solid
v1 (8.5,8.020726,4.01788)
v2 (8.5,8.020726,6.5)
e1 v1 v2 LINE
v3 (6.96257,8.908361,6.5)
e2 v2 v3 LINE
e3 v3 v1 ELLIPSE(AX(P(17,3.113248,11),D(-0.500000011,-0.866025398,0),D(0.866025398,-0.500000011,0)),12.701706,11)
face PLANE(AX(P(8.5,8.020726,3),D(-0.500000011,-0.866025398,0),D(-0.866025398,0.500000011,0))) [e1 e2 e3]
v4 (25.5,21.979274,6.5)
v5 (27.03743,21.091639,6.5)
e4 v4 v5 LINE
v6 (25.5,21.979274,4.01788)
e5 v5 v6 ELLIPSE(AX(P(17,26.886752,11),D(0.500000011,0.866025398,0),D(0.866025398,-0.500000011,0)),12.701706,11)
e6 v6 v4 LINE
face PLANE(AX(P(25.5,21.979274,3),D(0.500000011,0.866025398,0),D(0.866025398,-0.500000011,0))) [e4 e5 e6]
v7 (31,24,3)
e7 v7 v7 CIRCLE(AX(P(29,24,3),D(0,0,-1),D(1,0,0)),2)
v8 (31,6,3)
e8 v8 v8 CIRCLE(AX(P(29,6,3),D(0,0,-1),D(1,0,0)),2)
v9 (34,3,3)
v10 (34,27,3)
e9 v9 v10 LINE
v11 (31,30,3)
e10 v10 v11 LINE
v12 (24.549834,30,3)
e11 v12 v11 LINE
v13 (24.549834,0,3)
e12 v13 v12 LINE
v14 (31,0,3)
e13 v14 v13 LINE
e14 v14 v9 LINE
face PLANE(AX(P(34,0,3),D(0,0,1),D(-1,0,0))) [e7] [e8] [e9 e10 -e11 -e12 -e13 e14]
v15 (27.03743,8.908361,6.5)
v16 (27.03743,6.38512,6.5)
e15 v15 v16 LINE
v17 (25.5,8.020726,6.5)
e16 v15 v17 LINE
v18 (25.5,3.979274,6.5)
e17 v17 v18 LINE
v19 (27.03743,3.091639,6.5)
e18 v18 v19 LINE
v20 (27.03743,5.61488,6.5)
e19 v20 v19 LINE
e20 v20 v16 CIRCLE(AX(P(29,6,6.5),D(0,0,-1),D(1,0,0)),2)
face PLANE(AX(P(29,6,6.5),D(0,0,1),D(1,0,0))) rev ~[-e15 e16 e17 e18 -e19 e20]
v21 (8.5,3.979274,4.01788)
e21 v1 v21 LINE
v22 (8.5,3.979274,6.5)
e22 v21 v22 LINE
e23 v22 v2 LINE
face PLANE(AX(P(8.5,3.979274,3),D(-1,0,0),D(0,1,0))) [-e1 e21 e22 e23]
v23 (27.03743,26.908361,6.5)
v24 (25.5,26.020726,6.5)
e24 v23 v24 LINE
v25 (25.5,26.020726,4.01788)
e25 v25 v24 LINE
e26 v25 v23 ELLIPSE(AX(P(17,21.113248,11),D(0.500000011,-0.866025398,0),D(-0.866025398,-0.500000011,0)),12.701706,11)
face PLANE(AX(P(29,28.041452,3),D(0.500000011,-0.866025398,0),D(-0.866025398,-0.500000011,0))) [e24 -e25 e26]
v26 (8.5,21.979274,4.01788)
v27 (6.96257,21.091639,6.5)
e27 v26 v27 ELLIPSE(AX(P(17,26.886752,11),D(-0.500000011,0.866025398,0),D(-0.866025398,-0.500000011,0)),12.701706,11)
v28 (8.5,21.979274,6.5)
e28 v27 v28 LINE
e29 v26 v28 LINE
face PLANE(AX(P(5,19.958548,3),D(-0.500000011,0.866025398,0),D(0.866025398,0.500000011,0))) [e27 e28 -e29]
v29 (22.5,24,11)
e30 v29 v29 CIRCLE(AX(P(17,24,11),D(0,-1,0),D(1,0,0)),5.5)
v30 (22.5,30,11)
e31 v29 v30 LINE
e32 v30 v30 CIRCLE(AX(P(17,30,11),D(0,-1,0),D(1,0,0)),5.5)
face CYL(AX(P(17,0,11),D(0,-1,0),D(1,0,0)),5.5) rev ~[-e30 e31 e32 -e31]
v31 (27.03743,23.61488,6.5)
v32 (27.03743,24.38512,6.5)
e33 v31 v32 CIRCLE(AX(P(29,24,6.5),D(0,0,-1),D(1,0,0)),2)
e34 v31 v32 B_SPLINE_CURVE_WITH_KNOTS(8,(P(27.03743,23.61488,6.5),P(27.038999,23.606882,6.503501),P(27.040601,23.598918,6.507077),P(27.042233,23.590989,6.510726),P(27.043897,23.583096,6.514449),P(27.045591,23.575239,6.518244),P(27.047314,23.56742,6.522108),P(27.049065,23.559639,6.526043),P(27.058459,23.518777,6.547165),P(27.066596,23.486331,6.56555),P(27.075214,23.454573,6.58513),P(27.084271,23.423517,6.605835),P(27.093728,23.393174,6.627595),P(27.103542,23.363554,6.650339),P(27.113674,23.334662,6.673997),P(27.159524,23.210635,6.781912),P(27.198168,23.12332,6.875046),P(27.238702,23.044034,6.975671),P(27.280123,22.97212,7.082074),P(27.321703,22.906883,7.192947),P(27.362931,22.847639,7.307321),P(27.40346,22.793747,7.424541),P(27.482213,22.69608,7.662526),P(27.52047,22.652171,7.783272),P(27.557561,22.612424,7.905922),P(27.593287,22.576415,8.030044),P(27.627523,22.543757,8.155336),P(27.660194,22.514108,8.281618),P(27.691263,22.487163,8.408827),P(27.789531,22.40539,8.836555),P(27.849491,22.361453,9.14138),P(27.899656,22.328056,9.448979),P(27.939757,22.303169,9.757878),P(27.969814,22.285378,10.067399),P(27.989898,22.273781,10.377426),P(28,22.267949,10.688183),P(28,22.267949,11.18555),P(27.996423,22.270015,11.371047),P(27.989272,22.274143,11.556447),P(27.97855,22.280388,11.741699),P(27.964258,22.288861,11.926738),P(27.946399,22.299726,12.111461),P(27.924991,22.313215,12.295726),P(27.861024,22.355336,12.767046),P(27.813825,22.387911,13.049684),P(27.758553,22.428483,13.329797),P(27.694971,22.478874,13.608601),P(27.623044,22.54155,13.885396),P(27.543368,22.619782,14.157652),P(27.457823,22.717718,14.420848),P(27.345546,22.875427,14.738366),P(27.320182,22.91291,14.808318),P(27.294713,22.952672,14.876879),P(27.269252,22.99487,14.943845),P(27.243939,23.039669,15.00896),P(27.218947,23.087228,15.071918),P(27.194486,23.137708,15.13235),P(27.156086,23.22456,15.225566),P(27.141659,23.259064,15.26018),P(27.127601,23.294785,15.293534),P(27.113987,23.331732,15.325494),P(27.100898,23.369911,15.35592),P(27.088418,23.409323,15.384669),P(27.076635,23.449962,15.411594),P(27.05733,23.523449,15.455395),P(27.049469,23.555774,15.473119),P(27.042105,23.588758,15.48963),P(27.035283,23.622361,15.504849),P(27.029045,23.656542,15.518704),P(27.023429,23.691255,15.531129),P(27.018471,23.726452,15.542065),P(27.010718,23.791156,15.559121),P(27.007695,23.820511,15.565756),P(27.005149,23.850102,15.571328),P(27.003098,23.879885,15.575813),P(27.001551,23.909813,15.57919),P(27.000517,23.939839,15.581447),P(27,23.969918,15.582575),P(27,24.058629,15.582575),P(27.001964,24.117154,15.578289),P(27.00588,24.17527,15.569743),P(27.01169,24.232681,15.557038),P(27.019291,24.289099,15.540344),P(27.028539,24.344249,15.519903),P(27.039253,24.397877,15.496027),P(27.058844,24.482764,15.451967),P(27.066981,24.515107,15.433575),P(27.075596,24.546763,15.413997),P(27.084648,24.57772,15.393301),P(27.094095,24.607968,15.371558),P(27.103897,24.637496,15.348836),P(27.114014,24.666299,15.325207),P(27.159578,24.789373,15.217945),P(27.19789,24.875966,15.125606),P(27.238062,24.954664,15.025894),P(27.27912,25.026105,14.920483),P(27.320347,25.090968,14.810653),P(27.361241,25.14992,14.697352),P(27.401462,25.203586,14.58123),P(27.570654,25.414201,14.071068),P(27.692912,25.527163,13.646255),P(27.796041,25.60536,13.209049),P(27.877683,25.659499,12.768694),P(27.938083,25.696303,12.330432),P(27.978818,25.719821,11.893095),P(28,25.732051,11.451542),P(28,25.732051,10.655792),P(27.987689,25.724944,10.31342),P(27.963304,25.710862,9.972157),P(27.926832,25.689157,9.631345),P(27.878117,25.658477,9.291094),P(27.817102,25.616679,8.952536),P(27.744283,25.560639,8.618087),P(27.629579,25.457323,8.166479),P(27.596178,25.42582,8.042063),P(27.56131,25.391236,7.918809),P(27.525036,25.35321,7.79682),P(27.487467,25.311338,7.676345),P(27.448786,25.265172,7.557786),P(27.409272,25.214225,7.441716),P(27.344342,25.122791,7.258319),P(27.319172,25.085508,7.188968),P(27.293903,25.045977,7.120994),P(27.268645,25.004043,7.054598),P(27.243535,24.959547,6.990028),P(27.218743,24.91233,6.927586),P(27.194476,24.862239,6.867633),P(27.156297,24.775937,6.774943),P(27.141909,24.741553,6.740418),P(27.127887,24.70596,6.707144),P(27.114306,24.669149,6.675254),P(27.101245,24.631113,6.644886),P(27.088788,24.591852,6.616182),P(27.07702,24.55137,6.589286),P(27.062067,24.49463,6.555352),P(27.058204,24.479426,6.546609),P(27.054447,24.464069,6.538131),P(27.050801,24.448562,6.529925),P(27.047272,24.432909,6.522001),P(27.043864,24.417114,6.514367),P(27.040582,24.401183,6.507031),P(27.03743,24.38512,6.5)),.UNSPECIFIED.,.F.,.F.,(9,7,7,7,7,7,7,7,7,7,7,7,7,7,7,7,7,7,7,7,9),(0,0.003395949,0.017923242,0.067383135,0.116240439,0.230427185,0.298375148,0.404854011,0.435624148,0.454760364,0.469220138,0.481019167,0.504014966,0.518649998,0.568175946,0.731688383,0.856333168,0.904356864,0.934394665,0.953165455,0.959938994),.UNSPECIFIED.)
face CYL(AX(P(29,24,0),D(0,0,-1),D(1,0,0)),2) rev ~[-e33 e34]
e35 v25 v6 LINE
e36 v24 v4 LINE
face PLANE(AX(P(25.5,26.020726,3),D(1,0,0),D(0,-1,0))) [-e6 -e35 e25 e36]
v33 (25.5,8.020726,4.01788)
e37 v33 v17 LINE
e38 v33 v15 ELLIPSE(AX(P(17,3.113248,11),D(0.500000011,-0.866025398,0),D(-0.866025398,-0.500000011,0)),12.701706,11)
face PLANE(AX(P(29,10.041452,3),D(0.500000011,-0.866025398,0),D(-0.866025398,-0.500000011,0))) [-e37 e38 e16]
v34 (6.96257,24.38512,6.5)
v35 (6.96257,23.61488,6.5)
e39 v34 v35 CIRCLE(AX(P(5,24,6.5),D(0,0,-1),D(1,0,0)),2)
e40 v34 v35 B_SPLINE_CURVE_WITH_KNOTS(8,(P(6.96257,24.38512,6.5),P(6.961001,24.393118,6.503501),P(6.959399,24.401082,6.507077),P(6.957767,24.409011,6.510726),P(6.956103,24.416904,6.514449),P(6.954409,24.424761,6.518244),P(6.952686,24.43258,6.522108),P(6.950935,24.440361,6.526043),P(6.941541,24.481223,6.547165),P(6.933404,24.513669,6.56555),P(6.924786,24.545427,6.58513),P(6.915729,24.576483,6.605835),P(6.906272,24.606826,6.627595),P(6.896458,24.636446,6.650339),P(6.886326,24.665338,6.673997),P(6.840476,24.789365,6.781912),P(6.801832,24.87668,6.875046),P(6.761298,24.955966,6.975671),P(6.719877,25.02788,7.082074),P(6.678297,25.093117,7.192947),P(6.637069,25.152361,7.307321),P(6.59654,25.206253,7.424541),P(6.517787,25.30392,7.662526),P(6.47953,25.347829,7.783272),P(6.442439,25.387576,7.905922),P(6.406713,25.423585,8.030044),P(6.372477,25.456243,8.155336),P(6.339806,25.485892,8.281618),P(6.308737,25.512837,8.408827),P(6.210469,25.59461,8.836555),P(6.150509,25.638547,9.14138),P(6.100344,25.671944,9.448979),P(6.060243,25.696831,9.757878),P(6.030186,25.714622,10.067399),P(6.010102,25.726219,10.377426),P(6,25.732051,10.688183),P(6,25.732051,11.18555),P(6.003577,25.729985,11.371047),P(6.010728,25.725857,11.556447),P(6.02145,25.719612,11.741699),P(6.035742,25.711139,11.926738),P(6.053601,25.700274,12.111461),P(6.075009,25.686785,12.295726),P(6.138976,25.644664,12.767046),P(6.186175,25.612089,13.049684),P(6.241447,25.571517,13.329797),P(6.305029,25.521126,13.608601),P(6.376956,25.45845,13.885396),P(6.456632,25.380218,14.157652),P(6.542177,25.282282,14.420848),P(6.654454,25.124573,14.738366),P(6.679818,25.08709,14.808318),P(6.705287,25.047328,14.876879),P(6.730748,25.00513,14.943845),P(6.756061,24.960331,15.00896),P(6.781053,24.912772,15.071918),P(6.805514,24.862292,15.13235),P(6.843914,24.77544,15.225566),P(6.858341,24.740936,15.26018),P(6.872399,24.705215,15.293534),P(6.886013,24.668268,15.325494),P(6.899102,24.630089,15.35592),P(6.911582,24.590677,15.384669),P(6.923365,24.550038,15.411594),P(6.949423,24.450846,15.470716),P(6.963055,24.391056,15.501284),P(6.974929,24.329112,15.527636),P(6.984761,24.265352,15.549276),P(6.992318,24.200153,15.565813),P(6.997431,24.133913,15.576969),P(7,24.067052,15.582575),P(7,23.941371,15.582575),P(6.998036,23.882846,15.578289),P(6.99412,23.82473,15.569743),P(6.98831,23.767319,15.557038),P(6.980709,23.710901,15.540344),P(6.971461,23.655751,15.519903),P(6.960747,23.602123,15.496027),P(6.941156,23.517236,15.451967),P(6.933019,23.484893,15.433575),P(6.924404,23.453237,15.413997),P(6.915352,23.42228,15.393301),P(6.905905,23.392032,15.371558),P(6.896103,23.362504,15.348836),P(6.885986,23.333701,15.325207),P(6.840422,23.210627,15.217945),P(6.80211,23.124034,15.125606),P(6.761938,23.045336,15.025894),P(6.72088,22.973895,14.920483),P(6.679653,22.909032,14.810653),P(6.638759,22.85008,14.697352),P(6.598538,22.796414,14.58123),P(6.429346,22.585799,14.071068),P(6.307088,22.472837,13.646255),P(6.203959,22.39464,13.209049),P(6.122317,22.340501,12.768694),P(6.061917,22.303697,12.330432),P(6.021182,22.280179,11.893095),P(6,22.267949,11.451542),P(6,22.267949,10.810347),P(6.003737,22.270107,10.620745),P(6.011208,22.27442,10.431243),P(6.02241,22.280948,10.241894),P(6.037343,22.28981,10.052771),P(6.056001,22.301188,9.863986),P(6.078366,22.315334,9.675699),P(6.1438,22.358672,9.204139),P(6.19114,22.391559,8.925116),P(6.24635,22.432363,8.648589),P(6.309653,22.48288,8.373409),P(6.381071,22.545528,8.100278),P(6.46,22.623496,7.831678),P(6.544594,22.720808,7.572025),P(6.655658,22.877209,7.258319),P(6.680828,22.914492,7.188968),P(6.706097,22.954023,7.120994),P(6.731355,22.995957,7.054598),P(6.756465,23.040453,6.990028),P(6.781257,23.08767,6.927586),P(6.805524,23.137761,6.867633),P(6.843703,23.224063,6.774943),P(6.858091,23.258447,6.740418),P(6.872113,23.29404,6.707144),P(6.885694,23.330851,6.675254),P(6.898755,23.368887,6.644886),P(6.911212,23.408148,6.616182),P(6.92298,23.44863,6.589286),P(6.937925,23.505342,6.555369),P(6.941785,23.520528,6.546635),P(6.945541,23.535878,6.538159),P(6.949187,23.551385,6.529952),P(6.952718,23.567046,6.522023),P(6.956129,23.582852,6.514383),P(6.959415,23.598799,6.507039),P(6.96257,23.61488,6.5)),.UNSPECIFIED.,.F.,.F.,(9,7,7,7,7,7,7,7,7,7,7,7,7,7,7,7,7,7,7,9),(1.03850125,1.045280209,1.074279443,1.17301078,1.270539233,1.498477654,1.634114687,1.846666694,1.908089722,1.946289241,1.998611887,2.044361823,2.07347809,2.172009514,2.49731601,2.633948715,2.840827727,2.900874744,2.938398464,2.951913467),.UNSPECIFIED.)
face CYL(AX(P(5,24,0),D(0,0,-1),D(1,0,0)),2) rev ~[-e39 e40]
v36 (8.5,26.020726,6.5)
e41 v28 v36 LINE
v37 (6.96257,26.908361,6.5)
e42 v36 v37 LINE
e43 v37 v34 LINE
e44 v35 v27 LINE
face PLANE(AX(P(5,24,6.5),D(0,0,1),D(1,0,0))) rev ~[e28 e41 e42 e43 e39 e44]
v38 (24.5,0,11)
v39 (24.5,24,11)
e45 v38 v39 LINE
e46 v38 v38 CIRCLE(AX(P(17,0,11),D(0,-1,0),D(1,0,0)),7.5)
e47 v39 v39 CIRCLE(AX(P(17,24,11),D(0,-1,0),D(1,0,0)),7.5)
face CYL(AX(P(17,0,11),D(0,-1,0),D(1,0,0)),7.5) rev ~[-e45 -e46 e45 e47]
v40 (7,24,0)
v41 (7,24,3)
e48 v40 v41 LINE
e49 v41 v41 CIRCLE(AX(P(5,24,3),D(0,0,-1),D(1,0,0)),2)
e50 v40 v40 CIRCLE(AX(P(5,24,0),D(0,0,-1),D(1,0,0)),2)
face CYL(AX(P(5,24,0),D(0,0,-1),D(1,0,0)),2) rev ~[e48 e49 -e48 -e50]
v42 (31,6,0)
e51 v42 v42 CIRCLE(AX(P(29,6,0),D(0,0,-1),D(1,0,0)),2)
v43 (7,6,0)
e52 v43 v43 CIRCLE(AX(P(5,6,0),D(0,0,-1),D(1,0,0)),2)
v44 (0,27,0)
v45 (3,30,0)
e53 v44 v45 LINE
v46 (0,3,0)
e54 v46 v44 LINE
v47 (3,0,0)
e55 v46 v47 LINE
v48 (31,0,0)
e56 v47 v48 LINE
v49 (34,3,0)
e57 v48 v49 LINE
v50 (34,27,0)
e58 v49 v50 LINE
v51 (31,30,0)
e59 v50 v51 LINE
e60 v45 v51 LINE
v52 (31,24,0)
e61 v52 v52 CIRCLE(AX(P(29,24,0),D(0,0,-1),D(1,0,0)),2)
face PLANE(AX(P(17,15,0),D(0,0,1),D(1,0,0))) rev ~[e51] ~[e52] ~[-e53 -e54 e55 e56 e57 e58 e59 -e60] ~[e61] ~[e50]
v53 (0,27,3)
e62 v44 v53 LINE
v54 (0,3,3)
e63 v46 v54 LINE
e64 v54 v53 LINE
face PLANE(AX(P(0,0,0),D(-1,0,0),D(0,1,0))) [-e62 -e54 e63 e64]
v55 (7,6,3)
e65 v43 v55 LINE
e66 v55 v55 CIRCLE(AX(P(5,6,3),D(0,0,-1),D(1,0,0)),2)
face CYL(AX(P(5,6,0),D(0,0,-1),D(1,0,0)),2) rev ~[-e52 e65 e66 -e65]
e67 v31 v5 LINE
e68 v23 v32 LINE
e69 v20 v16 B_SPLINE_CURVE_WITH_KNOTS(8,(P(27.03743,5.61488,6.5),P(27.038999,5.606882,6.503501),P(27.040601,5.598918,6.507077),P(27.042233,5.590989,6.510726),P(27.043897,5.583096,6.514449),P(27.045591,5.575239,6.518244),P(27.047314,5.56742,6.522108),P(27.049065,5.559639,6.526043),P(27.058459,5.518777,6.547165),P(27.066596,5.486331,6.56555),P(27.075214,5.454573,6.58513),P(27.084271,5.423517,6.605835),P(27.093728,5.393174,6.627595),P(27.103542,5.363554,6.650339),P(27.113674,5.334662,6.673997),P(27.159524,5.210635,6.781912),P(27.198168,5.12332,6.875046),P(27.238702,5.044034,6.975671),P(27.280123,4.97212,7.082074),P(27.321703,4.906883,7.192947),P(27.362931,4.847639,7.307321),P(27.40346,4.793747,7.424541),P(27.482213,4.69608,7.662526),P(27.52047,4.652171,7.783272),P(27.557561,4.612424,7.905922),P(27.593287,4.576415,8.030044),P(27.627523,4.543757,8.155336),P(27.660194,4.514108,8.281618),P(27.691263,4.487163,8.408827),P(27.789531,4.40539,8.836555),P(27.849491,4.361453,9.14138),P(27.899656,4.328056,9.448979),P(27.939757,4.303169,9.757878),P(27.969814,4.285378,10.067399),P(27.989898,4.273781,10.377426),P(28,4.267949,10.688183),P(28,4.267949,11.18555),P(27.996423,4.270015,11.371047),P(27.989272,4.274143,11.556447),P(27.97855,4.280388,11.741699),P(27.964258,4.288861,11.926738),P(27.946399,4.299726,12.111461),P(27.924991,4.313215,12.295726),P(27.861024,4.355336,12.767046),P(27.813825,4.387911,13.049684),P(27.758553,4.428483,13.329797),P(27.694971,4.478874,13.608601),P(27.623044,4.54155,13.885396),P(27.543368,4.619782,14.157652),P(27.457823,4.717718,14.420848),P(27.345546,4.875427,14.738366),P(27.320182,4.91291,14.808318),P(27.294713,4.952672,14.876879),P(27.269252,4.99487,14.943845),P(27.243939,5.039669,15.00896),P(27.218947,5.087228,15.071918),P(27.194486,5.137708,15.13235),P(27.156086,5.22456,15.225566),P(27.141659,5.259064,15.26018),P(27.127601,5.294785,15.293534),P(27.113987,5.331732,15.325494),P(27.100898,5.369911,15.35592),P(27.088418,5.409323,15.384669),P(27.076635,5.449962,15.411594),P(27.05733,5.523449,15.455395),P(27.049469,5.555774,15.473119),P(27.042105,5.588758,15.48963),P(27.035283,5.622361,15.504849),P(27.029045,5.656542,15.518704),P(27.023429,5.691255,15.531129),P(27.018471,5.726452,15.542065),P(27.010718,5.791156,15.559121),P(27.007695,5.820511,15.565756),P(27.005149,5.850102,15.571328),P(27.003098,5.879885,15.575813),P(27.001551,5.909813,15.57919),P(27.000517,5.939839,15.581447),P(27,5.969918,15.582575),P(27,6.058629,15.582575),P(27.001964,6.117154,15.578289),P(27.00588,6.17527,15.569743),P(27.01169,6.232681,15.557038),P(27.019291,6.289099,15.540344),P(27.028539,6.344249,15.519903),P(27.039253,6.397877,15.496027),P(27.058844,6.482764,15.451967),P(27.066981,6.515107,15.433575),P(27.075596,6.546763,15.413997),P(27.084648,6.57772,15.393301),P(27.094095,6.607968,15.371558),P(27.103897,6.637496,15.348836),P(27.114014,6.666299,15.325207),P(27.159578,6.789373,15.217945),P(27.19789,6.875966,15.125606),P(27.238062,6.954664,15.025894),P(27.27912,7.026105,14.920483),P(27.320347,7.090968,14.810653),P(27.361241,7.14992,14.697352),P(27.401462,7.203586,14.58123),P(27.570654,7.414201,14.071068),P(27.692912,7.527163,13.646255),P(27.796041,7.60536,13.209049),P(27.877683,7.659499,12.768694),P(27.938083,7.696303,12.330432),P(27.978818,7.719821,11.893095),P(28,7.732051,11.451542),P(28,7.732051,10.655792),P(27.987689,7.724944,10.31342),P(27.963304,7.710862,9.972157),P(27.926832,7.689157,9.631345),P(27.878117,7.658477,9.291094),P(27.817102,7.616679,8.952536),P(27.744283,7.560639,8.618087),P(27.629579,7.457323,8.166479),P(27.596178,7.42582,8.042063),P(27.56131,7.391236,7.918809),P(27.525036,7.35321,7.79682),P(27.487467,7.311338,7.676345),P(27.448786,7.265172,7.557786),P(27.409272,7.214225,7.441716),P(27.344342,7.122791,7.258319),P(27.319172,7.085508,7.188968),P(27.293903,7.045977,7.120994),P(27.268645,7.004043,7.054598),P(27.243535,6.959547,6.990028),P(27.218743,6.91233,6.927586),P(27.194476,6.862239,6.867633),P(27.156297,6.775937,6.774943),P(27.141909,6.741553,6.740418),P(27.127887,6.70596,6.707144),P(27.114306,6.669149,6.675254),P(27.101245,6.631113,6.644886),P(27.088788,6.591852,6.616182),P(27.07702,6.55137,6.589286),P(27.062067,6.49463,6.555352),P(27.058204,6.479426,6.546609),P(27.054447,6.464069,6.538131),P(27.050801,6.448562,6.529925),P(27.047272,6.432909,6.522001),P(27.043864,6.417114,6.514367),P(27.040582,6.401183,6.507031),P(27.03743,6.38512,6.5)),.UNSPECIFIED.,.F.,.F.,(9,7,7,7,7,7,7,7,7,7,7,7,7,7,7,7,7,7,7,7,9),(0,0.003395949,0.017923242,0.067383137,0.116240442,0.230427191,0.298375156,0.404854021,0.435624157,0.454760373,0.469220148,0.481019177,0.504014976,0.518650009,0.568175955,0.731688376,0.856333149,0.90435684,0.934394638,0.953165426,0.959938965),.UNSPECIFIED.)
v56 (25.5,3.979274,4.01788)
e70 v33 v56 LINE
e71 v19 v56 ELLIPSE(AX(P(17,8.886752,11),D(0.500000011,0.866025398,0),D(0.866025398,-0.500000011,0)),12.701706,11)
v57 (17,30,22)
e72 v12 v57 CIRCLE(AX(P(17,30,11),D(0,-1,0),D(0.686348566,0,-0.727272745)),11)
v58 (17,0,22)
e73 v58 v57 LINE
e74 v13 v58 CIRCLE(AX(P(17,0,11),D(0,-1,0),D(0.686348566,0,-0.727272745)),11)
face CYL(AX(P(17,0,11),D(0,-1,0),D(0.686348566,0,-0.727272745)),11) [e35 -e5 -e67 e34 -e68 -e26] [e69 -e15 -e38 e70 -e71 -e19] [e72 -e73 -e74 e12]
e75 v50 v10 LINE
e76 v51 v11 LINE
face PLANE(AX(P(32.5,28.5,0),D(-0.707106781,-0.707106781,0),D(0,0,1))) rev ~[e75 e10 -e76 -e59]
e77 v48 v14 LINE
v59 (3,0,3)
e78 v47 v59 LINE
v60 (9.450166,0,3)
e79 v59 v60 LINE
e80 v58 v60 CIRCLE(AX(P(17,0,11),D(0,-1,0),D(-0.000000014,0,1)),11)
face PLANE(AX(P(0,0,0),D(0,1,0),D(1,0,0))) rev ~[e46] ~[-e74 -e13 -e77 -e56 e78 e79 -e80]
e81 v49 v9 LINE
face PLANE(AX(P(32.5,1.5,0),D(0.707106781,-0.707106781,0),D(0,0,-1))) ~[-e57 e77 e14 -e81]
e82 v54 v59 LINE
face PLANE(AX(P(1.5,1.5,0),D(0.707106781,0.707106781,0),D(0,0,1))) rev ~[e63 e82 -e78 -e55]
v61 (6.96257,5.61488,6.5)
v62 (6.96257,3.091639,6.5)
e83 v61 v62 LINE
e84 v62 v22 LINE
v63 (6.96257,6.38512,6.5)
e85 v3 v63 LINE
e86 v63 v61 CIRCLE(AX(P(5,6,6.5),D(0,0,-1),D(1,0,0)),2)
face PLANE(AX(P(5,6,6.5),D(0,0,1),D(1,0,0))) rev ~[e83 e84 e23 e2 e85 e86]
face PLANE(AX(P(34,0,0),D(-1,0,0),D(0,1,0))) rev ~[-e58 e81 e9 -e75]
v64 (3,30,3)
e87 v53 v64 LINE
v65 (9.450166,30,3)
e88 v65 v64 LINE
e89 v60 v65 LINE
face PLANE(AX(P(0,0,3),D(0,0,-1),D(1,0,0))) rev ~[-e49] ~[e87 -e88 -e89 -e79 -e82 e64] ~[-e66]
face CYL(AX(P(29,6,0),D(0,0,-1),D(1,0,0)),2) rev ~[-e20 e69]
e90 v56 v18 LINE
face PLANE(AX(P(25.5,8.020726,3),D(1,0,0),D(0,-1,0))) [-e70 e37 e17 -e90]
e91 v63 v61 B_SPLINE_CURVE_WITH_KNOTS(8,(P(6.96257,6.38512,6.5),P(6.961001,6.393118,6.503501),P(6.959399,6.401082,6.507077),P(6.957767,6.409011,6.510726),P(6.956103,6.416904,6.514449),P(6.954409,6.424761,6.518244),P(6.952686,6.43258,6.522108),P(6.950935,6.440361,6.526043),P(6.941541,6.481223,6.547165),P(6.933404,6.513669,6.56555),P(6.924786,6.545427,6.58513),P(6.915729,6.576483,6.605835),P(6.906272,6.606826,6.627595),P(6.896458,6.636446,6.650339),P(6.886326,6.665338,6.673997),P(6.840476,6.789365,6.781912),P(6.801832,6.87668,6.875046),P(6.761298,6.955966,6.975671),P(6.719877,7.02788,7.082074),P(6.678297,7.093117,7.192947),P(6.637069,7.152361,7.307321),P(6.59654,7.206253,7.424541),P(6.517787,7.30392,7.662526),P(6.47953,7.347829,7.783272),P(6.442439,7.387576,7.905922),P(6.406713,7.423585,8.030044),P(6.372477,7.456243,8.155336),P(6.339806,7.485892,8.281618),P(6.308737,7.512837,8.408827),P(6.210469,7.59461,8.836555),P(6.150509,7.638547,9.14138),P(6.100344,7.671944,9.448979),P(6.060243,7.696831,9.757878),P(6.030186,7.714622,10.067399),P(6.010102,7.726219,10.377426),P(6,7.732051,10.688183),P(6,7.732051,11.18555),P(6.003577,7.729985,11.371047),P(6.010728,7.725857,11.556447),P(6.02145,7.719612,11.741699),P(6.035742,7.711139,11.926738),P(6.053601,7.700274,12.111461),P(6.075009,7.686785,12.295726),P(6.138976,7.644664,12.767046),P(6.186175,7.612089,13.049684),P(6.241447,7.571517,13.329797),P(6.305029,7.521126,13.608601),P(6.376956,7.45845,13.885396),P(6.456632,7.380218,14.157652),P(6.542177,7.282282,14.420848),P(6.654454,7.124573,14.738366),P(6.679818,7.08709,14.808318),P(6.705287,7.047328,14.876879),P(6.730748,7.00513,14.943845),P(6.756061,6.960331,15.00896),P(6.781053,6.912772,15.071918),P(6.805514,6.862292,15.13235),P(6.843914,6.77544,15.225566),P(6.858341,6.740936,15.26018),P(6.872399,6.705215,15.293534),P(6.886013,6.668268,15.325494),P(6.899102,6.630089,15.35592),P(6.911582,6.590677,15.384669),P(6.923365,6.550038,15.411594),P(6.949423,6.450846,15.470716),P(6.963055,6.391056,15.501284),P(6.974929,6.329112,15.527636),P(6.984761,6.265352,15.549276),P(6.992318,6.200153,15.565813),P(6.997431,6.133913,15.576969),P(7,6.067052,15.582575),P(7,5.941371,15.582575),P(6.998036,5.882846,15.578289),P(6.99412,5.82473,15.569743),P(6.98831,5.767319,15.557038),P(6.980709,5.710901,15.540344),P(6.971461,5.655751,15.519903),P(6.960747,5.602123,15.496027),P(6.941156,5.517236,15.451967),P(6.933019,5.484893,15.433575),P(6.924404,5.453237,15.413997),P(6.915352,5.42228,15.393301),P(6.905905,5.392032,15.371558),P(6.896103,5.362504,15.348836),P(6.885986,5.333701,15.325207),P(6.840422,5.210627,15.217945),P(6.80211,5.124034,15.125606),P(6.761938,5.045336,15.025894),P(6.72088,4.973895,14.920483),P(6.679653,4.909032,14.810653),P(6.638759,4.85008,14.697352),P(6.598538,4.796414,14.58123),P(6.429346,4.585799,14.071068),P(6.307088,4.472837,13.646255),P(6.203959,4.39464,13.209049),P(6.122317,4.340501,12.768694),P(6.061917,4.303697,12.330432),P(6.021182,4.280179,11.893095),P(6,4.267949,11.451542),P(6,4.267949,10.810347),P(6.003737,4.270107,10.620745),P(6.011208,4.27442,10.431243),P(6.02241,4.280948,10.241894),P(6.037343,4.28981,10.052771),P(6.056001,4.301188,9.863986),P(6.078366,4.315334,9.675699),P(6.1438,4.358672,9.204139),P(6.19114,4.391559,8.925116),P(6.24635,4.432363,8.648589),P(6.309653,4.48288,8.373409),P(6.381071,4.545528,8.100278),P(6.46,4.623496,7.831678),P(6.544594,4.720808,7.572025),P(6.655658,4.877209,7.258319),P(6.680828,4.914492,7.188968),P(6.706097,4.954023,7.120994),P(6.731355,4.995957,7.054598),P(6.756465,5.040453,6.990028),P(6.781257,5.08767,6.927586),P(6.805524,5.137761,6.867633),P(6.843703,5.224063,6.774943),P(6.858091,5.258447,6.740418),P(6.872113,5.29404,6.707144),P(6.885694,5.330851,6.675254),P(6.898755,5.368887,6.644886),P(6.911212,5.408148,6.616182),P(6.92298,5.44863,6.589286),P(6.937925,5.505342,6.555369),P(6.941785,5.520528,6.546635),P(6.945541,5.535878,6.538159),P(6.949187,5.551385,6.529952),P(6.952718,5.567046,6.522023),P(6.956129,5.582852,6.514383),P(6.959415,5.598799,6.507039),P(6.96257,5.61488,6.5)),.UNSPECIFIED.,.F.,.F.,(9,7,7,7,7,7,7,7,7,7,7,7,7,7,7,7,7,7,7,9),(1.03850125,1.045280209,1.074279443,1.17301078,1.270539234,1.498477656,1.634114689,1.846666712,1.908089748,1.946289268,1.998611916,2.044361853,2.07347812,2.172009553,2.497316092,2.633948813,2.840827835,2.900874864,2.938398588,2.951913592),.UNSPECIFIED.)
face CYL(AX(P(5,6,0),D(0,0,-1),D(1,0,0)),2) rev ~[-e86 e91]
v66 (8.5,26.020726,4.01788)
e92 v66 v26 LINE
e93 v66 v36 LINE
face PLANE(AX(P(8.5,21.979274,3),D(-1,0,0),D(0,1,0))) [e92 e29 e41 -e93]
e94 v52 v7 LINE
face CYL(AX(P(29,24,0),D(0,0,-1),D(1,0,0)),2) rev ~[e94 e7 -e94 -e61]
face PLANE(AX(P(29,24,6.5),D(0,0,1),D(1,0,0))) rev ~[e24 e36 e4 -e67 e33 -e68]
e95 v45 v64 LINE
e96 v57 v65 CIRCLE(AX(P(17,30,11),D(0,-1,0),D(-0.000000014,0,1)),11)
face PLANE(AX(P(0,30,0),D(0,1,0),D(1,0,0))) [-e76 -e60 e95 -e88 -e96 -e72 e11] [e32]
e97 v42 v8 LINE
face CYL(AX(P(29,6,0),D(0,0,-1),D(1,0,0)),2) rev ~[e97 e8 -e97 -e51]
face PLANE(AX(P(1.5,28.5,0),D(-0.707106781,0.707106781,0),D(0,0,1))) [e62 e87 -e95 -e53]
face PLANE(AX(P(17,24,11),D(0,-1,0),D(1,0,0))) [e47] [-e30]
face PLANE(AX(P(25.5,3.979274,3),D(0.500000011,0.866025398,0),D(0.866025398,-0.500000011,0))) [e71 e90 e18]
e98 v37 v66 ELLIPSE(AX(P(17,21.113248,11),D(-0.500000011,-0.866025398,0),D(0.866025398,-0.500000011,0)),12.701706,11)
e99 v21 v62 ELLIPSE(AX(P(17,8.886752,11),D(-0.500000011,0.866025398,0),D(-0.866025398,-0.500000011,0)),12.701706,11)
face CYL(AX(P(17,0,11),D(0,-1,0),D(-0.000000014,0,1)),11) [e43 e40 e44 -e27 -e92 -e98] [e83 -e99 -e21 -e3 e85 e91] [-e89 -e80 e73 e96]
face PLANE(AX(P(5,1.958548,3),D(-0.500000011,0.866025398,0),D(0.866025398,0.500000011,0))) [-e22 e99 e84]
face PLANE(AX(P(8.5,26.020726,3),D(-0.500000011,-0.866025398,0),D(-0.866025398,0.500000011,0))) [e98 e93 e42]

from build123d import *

# Parameters (mm, degrees)
SKETCH_W        = 34
SKETCH_H        = 30
PAD_DEPTH       = 22
SKETCH001_R     = 5.5
POCKET_DEPTH    = 30.001
SKETCH002_R     = 2
POCKET001_DEPTH = 22.001
CHAMFER_SIZE    = 3
SKETCH003_R     = 7.5
POCKET002_DEPTH = 24
POCKET003_DEPTH = 3.5


with BuildPart() as part:
    # Sketch → Pad (new body)
    with BuildSketch(Plane.XY):
        with Locations((17, 15)):
            Rectangle(SKETCH_W, SKETCH_H)
    extrude(amount=PAD_DEPTH)

    # Sketch001 (on Face1 of Pad) → Pocket (cut, through all)
    with BuildSketch(Plane.XZ):
        with Locations((17, 11)):
            Circle(SKETCH001_R)
        with BuildLine():
            ThreePointArc((17, 22), (6.777476, 15.062019), (9.450166, 3))
            Line((0, 3), (9.450166, 3))
            Line((0, 22), (0, 3))
            Line((17, 22), (0, 22))
        make_face()
        with BuildLine():
            ThreePointArc((24.549834, 3), (27.222524, 15.062019), (17, 22))
            Line((17, 22), (34, 22))
            Line((34, 22), (34, 3))
            Line((34, 3), (24.549834, 3))
        make_face()
    extrude(amount=-POCKET_DEPTH, mode=Mode.SUBTRACT)

    # Sketch002 (on Face2 of Pocket) → Pocket001 (cut, through all)
    with BuildSketch(Plane(origin=(0, 0, 0), x_dir=(1, 0, 0), z_dir=(0, 0, -1))):
        with Locations((5, -6)):
            Circle(SKETCH002_R)
        with Locations((29, -6)):
            Circle(SKETCH002_R)
        with Locations((29, -24)):
            Circle(SKETCH002_R)
        with Locations((5, -24)):
            Circle(SKETCH002_R)
    extrude(amount=-POCKET001_DEPTH, mode=Mode.SUBTRACT)

    # Chamfer
    chamfer_edges = [part.edges().sort_by_distance(p)[0] for p in [
        (34, 0, 1.5),
        (34, 30, 1.5),
        (0, 30, 1.5),
        (0, 0, 1.5),
    ]]
    chamfer(chamfer_edges, length=CHAMFER_SIZE)

    # Sketch003 (on Face1 of Chamfer) → Pocket002 (cut)
    with BuildSketch(Plane.XZ):
        with Locations((17, 11)):
            Circle(SKETCH003_R)
    extrude(amount=-POCKET002_DEPTH, mode=Mode.SUBTRACT)

    # Sketch004 (on Face6 of Pocket002) → Pocket003 (cut)
    with BuildSketch(Plane.XY.offset(3)):
        Polygon((5, 28.041452), (1.5, 26.020726), (1.5, 21.979274), (5, 19.958548), (8.5, 21.979274), (8.5, 26.020726), align=None)
        Polygon((32.5, 26.020726), (29, 28.041452), (25.5, 26.020726), (25.5, 21.979274), (29, 19.958548), (32.5, 21.979274), align=None)
        Polygon((32.5, 8.020726), (29, 10.041452), (25.5, 8.020726), (25.5, 3.979274), (29, 1.958548), (32.5, 3.979274), align=None)
        Polygon((5, 10.041452), (1.5, 8.020726), (1.5, 3.979274), (5, 1.958548), (8.5, 3.979274), (8.5, 8.020726), align=None)
    extrude(amount=POCKET003_DEPTH, mode=Mode.SUBTRACT)


solid = part.part
